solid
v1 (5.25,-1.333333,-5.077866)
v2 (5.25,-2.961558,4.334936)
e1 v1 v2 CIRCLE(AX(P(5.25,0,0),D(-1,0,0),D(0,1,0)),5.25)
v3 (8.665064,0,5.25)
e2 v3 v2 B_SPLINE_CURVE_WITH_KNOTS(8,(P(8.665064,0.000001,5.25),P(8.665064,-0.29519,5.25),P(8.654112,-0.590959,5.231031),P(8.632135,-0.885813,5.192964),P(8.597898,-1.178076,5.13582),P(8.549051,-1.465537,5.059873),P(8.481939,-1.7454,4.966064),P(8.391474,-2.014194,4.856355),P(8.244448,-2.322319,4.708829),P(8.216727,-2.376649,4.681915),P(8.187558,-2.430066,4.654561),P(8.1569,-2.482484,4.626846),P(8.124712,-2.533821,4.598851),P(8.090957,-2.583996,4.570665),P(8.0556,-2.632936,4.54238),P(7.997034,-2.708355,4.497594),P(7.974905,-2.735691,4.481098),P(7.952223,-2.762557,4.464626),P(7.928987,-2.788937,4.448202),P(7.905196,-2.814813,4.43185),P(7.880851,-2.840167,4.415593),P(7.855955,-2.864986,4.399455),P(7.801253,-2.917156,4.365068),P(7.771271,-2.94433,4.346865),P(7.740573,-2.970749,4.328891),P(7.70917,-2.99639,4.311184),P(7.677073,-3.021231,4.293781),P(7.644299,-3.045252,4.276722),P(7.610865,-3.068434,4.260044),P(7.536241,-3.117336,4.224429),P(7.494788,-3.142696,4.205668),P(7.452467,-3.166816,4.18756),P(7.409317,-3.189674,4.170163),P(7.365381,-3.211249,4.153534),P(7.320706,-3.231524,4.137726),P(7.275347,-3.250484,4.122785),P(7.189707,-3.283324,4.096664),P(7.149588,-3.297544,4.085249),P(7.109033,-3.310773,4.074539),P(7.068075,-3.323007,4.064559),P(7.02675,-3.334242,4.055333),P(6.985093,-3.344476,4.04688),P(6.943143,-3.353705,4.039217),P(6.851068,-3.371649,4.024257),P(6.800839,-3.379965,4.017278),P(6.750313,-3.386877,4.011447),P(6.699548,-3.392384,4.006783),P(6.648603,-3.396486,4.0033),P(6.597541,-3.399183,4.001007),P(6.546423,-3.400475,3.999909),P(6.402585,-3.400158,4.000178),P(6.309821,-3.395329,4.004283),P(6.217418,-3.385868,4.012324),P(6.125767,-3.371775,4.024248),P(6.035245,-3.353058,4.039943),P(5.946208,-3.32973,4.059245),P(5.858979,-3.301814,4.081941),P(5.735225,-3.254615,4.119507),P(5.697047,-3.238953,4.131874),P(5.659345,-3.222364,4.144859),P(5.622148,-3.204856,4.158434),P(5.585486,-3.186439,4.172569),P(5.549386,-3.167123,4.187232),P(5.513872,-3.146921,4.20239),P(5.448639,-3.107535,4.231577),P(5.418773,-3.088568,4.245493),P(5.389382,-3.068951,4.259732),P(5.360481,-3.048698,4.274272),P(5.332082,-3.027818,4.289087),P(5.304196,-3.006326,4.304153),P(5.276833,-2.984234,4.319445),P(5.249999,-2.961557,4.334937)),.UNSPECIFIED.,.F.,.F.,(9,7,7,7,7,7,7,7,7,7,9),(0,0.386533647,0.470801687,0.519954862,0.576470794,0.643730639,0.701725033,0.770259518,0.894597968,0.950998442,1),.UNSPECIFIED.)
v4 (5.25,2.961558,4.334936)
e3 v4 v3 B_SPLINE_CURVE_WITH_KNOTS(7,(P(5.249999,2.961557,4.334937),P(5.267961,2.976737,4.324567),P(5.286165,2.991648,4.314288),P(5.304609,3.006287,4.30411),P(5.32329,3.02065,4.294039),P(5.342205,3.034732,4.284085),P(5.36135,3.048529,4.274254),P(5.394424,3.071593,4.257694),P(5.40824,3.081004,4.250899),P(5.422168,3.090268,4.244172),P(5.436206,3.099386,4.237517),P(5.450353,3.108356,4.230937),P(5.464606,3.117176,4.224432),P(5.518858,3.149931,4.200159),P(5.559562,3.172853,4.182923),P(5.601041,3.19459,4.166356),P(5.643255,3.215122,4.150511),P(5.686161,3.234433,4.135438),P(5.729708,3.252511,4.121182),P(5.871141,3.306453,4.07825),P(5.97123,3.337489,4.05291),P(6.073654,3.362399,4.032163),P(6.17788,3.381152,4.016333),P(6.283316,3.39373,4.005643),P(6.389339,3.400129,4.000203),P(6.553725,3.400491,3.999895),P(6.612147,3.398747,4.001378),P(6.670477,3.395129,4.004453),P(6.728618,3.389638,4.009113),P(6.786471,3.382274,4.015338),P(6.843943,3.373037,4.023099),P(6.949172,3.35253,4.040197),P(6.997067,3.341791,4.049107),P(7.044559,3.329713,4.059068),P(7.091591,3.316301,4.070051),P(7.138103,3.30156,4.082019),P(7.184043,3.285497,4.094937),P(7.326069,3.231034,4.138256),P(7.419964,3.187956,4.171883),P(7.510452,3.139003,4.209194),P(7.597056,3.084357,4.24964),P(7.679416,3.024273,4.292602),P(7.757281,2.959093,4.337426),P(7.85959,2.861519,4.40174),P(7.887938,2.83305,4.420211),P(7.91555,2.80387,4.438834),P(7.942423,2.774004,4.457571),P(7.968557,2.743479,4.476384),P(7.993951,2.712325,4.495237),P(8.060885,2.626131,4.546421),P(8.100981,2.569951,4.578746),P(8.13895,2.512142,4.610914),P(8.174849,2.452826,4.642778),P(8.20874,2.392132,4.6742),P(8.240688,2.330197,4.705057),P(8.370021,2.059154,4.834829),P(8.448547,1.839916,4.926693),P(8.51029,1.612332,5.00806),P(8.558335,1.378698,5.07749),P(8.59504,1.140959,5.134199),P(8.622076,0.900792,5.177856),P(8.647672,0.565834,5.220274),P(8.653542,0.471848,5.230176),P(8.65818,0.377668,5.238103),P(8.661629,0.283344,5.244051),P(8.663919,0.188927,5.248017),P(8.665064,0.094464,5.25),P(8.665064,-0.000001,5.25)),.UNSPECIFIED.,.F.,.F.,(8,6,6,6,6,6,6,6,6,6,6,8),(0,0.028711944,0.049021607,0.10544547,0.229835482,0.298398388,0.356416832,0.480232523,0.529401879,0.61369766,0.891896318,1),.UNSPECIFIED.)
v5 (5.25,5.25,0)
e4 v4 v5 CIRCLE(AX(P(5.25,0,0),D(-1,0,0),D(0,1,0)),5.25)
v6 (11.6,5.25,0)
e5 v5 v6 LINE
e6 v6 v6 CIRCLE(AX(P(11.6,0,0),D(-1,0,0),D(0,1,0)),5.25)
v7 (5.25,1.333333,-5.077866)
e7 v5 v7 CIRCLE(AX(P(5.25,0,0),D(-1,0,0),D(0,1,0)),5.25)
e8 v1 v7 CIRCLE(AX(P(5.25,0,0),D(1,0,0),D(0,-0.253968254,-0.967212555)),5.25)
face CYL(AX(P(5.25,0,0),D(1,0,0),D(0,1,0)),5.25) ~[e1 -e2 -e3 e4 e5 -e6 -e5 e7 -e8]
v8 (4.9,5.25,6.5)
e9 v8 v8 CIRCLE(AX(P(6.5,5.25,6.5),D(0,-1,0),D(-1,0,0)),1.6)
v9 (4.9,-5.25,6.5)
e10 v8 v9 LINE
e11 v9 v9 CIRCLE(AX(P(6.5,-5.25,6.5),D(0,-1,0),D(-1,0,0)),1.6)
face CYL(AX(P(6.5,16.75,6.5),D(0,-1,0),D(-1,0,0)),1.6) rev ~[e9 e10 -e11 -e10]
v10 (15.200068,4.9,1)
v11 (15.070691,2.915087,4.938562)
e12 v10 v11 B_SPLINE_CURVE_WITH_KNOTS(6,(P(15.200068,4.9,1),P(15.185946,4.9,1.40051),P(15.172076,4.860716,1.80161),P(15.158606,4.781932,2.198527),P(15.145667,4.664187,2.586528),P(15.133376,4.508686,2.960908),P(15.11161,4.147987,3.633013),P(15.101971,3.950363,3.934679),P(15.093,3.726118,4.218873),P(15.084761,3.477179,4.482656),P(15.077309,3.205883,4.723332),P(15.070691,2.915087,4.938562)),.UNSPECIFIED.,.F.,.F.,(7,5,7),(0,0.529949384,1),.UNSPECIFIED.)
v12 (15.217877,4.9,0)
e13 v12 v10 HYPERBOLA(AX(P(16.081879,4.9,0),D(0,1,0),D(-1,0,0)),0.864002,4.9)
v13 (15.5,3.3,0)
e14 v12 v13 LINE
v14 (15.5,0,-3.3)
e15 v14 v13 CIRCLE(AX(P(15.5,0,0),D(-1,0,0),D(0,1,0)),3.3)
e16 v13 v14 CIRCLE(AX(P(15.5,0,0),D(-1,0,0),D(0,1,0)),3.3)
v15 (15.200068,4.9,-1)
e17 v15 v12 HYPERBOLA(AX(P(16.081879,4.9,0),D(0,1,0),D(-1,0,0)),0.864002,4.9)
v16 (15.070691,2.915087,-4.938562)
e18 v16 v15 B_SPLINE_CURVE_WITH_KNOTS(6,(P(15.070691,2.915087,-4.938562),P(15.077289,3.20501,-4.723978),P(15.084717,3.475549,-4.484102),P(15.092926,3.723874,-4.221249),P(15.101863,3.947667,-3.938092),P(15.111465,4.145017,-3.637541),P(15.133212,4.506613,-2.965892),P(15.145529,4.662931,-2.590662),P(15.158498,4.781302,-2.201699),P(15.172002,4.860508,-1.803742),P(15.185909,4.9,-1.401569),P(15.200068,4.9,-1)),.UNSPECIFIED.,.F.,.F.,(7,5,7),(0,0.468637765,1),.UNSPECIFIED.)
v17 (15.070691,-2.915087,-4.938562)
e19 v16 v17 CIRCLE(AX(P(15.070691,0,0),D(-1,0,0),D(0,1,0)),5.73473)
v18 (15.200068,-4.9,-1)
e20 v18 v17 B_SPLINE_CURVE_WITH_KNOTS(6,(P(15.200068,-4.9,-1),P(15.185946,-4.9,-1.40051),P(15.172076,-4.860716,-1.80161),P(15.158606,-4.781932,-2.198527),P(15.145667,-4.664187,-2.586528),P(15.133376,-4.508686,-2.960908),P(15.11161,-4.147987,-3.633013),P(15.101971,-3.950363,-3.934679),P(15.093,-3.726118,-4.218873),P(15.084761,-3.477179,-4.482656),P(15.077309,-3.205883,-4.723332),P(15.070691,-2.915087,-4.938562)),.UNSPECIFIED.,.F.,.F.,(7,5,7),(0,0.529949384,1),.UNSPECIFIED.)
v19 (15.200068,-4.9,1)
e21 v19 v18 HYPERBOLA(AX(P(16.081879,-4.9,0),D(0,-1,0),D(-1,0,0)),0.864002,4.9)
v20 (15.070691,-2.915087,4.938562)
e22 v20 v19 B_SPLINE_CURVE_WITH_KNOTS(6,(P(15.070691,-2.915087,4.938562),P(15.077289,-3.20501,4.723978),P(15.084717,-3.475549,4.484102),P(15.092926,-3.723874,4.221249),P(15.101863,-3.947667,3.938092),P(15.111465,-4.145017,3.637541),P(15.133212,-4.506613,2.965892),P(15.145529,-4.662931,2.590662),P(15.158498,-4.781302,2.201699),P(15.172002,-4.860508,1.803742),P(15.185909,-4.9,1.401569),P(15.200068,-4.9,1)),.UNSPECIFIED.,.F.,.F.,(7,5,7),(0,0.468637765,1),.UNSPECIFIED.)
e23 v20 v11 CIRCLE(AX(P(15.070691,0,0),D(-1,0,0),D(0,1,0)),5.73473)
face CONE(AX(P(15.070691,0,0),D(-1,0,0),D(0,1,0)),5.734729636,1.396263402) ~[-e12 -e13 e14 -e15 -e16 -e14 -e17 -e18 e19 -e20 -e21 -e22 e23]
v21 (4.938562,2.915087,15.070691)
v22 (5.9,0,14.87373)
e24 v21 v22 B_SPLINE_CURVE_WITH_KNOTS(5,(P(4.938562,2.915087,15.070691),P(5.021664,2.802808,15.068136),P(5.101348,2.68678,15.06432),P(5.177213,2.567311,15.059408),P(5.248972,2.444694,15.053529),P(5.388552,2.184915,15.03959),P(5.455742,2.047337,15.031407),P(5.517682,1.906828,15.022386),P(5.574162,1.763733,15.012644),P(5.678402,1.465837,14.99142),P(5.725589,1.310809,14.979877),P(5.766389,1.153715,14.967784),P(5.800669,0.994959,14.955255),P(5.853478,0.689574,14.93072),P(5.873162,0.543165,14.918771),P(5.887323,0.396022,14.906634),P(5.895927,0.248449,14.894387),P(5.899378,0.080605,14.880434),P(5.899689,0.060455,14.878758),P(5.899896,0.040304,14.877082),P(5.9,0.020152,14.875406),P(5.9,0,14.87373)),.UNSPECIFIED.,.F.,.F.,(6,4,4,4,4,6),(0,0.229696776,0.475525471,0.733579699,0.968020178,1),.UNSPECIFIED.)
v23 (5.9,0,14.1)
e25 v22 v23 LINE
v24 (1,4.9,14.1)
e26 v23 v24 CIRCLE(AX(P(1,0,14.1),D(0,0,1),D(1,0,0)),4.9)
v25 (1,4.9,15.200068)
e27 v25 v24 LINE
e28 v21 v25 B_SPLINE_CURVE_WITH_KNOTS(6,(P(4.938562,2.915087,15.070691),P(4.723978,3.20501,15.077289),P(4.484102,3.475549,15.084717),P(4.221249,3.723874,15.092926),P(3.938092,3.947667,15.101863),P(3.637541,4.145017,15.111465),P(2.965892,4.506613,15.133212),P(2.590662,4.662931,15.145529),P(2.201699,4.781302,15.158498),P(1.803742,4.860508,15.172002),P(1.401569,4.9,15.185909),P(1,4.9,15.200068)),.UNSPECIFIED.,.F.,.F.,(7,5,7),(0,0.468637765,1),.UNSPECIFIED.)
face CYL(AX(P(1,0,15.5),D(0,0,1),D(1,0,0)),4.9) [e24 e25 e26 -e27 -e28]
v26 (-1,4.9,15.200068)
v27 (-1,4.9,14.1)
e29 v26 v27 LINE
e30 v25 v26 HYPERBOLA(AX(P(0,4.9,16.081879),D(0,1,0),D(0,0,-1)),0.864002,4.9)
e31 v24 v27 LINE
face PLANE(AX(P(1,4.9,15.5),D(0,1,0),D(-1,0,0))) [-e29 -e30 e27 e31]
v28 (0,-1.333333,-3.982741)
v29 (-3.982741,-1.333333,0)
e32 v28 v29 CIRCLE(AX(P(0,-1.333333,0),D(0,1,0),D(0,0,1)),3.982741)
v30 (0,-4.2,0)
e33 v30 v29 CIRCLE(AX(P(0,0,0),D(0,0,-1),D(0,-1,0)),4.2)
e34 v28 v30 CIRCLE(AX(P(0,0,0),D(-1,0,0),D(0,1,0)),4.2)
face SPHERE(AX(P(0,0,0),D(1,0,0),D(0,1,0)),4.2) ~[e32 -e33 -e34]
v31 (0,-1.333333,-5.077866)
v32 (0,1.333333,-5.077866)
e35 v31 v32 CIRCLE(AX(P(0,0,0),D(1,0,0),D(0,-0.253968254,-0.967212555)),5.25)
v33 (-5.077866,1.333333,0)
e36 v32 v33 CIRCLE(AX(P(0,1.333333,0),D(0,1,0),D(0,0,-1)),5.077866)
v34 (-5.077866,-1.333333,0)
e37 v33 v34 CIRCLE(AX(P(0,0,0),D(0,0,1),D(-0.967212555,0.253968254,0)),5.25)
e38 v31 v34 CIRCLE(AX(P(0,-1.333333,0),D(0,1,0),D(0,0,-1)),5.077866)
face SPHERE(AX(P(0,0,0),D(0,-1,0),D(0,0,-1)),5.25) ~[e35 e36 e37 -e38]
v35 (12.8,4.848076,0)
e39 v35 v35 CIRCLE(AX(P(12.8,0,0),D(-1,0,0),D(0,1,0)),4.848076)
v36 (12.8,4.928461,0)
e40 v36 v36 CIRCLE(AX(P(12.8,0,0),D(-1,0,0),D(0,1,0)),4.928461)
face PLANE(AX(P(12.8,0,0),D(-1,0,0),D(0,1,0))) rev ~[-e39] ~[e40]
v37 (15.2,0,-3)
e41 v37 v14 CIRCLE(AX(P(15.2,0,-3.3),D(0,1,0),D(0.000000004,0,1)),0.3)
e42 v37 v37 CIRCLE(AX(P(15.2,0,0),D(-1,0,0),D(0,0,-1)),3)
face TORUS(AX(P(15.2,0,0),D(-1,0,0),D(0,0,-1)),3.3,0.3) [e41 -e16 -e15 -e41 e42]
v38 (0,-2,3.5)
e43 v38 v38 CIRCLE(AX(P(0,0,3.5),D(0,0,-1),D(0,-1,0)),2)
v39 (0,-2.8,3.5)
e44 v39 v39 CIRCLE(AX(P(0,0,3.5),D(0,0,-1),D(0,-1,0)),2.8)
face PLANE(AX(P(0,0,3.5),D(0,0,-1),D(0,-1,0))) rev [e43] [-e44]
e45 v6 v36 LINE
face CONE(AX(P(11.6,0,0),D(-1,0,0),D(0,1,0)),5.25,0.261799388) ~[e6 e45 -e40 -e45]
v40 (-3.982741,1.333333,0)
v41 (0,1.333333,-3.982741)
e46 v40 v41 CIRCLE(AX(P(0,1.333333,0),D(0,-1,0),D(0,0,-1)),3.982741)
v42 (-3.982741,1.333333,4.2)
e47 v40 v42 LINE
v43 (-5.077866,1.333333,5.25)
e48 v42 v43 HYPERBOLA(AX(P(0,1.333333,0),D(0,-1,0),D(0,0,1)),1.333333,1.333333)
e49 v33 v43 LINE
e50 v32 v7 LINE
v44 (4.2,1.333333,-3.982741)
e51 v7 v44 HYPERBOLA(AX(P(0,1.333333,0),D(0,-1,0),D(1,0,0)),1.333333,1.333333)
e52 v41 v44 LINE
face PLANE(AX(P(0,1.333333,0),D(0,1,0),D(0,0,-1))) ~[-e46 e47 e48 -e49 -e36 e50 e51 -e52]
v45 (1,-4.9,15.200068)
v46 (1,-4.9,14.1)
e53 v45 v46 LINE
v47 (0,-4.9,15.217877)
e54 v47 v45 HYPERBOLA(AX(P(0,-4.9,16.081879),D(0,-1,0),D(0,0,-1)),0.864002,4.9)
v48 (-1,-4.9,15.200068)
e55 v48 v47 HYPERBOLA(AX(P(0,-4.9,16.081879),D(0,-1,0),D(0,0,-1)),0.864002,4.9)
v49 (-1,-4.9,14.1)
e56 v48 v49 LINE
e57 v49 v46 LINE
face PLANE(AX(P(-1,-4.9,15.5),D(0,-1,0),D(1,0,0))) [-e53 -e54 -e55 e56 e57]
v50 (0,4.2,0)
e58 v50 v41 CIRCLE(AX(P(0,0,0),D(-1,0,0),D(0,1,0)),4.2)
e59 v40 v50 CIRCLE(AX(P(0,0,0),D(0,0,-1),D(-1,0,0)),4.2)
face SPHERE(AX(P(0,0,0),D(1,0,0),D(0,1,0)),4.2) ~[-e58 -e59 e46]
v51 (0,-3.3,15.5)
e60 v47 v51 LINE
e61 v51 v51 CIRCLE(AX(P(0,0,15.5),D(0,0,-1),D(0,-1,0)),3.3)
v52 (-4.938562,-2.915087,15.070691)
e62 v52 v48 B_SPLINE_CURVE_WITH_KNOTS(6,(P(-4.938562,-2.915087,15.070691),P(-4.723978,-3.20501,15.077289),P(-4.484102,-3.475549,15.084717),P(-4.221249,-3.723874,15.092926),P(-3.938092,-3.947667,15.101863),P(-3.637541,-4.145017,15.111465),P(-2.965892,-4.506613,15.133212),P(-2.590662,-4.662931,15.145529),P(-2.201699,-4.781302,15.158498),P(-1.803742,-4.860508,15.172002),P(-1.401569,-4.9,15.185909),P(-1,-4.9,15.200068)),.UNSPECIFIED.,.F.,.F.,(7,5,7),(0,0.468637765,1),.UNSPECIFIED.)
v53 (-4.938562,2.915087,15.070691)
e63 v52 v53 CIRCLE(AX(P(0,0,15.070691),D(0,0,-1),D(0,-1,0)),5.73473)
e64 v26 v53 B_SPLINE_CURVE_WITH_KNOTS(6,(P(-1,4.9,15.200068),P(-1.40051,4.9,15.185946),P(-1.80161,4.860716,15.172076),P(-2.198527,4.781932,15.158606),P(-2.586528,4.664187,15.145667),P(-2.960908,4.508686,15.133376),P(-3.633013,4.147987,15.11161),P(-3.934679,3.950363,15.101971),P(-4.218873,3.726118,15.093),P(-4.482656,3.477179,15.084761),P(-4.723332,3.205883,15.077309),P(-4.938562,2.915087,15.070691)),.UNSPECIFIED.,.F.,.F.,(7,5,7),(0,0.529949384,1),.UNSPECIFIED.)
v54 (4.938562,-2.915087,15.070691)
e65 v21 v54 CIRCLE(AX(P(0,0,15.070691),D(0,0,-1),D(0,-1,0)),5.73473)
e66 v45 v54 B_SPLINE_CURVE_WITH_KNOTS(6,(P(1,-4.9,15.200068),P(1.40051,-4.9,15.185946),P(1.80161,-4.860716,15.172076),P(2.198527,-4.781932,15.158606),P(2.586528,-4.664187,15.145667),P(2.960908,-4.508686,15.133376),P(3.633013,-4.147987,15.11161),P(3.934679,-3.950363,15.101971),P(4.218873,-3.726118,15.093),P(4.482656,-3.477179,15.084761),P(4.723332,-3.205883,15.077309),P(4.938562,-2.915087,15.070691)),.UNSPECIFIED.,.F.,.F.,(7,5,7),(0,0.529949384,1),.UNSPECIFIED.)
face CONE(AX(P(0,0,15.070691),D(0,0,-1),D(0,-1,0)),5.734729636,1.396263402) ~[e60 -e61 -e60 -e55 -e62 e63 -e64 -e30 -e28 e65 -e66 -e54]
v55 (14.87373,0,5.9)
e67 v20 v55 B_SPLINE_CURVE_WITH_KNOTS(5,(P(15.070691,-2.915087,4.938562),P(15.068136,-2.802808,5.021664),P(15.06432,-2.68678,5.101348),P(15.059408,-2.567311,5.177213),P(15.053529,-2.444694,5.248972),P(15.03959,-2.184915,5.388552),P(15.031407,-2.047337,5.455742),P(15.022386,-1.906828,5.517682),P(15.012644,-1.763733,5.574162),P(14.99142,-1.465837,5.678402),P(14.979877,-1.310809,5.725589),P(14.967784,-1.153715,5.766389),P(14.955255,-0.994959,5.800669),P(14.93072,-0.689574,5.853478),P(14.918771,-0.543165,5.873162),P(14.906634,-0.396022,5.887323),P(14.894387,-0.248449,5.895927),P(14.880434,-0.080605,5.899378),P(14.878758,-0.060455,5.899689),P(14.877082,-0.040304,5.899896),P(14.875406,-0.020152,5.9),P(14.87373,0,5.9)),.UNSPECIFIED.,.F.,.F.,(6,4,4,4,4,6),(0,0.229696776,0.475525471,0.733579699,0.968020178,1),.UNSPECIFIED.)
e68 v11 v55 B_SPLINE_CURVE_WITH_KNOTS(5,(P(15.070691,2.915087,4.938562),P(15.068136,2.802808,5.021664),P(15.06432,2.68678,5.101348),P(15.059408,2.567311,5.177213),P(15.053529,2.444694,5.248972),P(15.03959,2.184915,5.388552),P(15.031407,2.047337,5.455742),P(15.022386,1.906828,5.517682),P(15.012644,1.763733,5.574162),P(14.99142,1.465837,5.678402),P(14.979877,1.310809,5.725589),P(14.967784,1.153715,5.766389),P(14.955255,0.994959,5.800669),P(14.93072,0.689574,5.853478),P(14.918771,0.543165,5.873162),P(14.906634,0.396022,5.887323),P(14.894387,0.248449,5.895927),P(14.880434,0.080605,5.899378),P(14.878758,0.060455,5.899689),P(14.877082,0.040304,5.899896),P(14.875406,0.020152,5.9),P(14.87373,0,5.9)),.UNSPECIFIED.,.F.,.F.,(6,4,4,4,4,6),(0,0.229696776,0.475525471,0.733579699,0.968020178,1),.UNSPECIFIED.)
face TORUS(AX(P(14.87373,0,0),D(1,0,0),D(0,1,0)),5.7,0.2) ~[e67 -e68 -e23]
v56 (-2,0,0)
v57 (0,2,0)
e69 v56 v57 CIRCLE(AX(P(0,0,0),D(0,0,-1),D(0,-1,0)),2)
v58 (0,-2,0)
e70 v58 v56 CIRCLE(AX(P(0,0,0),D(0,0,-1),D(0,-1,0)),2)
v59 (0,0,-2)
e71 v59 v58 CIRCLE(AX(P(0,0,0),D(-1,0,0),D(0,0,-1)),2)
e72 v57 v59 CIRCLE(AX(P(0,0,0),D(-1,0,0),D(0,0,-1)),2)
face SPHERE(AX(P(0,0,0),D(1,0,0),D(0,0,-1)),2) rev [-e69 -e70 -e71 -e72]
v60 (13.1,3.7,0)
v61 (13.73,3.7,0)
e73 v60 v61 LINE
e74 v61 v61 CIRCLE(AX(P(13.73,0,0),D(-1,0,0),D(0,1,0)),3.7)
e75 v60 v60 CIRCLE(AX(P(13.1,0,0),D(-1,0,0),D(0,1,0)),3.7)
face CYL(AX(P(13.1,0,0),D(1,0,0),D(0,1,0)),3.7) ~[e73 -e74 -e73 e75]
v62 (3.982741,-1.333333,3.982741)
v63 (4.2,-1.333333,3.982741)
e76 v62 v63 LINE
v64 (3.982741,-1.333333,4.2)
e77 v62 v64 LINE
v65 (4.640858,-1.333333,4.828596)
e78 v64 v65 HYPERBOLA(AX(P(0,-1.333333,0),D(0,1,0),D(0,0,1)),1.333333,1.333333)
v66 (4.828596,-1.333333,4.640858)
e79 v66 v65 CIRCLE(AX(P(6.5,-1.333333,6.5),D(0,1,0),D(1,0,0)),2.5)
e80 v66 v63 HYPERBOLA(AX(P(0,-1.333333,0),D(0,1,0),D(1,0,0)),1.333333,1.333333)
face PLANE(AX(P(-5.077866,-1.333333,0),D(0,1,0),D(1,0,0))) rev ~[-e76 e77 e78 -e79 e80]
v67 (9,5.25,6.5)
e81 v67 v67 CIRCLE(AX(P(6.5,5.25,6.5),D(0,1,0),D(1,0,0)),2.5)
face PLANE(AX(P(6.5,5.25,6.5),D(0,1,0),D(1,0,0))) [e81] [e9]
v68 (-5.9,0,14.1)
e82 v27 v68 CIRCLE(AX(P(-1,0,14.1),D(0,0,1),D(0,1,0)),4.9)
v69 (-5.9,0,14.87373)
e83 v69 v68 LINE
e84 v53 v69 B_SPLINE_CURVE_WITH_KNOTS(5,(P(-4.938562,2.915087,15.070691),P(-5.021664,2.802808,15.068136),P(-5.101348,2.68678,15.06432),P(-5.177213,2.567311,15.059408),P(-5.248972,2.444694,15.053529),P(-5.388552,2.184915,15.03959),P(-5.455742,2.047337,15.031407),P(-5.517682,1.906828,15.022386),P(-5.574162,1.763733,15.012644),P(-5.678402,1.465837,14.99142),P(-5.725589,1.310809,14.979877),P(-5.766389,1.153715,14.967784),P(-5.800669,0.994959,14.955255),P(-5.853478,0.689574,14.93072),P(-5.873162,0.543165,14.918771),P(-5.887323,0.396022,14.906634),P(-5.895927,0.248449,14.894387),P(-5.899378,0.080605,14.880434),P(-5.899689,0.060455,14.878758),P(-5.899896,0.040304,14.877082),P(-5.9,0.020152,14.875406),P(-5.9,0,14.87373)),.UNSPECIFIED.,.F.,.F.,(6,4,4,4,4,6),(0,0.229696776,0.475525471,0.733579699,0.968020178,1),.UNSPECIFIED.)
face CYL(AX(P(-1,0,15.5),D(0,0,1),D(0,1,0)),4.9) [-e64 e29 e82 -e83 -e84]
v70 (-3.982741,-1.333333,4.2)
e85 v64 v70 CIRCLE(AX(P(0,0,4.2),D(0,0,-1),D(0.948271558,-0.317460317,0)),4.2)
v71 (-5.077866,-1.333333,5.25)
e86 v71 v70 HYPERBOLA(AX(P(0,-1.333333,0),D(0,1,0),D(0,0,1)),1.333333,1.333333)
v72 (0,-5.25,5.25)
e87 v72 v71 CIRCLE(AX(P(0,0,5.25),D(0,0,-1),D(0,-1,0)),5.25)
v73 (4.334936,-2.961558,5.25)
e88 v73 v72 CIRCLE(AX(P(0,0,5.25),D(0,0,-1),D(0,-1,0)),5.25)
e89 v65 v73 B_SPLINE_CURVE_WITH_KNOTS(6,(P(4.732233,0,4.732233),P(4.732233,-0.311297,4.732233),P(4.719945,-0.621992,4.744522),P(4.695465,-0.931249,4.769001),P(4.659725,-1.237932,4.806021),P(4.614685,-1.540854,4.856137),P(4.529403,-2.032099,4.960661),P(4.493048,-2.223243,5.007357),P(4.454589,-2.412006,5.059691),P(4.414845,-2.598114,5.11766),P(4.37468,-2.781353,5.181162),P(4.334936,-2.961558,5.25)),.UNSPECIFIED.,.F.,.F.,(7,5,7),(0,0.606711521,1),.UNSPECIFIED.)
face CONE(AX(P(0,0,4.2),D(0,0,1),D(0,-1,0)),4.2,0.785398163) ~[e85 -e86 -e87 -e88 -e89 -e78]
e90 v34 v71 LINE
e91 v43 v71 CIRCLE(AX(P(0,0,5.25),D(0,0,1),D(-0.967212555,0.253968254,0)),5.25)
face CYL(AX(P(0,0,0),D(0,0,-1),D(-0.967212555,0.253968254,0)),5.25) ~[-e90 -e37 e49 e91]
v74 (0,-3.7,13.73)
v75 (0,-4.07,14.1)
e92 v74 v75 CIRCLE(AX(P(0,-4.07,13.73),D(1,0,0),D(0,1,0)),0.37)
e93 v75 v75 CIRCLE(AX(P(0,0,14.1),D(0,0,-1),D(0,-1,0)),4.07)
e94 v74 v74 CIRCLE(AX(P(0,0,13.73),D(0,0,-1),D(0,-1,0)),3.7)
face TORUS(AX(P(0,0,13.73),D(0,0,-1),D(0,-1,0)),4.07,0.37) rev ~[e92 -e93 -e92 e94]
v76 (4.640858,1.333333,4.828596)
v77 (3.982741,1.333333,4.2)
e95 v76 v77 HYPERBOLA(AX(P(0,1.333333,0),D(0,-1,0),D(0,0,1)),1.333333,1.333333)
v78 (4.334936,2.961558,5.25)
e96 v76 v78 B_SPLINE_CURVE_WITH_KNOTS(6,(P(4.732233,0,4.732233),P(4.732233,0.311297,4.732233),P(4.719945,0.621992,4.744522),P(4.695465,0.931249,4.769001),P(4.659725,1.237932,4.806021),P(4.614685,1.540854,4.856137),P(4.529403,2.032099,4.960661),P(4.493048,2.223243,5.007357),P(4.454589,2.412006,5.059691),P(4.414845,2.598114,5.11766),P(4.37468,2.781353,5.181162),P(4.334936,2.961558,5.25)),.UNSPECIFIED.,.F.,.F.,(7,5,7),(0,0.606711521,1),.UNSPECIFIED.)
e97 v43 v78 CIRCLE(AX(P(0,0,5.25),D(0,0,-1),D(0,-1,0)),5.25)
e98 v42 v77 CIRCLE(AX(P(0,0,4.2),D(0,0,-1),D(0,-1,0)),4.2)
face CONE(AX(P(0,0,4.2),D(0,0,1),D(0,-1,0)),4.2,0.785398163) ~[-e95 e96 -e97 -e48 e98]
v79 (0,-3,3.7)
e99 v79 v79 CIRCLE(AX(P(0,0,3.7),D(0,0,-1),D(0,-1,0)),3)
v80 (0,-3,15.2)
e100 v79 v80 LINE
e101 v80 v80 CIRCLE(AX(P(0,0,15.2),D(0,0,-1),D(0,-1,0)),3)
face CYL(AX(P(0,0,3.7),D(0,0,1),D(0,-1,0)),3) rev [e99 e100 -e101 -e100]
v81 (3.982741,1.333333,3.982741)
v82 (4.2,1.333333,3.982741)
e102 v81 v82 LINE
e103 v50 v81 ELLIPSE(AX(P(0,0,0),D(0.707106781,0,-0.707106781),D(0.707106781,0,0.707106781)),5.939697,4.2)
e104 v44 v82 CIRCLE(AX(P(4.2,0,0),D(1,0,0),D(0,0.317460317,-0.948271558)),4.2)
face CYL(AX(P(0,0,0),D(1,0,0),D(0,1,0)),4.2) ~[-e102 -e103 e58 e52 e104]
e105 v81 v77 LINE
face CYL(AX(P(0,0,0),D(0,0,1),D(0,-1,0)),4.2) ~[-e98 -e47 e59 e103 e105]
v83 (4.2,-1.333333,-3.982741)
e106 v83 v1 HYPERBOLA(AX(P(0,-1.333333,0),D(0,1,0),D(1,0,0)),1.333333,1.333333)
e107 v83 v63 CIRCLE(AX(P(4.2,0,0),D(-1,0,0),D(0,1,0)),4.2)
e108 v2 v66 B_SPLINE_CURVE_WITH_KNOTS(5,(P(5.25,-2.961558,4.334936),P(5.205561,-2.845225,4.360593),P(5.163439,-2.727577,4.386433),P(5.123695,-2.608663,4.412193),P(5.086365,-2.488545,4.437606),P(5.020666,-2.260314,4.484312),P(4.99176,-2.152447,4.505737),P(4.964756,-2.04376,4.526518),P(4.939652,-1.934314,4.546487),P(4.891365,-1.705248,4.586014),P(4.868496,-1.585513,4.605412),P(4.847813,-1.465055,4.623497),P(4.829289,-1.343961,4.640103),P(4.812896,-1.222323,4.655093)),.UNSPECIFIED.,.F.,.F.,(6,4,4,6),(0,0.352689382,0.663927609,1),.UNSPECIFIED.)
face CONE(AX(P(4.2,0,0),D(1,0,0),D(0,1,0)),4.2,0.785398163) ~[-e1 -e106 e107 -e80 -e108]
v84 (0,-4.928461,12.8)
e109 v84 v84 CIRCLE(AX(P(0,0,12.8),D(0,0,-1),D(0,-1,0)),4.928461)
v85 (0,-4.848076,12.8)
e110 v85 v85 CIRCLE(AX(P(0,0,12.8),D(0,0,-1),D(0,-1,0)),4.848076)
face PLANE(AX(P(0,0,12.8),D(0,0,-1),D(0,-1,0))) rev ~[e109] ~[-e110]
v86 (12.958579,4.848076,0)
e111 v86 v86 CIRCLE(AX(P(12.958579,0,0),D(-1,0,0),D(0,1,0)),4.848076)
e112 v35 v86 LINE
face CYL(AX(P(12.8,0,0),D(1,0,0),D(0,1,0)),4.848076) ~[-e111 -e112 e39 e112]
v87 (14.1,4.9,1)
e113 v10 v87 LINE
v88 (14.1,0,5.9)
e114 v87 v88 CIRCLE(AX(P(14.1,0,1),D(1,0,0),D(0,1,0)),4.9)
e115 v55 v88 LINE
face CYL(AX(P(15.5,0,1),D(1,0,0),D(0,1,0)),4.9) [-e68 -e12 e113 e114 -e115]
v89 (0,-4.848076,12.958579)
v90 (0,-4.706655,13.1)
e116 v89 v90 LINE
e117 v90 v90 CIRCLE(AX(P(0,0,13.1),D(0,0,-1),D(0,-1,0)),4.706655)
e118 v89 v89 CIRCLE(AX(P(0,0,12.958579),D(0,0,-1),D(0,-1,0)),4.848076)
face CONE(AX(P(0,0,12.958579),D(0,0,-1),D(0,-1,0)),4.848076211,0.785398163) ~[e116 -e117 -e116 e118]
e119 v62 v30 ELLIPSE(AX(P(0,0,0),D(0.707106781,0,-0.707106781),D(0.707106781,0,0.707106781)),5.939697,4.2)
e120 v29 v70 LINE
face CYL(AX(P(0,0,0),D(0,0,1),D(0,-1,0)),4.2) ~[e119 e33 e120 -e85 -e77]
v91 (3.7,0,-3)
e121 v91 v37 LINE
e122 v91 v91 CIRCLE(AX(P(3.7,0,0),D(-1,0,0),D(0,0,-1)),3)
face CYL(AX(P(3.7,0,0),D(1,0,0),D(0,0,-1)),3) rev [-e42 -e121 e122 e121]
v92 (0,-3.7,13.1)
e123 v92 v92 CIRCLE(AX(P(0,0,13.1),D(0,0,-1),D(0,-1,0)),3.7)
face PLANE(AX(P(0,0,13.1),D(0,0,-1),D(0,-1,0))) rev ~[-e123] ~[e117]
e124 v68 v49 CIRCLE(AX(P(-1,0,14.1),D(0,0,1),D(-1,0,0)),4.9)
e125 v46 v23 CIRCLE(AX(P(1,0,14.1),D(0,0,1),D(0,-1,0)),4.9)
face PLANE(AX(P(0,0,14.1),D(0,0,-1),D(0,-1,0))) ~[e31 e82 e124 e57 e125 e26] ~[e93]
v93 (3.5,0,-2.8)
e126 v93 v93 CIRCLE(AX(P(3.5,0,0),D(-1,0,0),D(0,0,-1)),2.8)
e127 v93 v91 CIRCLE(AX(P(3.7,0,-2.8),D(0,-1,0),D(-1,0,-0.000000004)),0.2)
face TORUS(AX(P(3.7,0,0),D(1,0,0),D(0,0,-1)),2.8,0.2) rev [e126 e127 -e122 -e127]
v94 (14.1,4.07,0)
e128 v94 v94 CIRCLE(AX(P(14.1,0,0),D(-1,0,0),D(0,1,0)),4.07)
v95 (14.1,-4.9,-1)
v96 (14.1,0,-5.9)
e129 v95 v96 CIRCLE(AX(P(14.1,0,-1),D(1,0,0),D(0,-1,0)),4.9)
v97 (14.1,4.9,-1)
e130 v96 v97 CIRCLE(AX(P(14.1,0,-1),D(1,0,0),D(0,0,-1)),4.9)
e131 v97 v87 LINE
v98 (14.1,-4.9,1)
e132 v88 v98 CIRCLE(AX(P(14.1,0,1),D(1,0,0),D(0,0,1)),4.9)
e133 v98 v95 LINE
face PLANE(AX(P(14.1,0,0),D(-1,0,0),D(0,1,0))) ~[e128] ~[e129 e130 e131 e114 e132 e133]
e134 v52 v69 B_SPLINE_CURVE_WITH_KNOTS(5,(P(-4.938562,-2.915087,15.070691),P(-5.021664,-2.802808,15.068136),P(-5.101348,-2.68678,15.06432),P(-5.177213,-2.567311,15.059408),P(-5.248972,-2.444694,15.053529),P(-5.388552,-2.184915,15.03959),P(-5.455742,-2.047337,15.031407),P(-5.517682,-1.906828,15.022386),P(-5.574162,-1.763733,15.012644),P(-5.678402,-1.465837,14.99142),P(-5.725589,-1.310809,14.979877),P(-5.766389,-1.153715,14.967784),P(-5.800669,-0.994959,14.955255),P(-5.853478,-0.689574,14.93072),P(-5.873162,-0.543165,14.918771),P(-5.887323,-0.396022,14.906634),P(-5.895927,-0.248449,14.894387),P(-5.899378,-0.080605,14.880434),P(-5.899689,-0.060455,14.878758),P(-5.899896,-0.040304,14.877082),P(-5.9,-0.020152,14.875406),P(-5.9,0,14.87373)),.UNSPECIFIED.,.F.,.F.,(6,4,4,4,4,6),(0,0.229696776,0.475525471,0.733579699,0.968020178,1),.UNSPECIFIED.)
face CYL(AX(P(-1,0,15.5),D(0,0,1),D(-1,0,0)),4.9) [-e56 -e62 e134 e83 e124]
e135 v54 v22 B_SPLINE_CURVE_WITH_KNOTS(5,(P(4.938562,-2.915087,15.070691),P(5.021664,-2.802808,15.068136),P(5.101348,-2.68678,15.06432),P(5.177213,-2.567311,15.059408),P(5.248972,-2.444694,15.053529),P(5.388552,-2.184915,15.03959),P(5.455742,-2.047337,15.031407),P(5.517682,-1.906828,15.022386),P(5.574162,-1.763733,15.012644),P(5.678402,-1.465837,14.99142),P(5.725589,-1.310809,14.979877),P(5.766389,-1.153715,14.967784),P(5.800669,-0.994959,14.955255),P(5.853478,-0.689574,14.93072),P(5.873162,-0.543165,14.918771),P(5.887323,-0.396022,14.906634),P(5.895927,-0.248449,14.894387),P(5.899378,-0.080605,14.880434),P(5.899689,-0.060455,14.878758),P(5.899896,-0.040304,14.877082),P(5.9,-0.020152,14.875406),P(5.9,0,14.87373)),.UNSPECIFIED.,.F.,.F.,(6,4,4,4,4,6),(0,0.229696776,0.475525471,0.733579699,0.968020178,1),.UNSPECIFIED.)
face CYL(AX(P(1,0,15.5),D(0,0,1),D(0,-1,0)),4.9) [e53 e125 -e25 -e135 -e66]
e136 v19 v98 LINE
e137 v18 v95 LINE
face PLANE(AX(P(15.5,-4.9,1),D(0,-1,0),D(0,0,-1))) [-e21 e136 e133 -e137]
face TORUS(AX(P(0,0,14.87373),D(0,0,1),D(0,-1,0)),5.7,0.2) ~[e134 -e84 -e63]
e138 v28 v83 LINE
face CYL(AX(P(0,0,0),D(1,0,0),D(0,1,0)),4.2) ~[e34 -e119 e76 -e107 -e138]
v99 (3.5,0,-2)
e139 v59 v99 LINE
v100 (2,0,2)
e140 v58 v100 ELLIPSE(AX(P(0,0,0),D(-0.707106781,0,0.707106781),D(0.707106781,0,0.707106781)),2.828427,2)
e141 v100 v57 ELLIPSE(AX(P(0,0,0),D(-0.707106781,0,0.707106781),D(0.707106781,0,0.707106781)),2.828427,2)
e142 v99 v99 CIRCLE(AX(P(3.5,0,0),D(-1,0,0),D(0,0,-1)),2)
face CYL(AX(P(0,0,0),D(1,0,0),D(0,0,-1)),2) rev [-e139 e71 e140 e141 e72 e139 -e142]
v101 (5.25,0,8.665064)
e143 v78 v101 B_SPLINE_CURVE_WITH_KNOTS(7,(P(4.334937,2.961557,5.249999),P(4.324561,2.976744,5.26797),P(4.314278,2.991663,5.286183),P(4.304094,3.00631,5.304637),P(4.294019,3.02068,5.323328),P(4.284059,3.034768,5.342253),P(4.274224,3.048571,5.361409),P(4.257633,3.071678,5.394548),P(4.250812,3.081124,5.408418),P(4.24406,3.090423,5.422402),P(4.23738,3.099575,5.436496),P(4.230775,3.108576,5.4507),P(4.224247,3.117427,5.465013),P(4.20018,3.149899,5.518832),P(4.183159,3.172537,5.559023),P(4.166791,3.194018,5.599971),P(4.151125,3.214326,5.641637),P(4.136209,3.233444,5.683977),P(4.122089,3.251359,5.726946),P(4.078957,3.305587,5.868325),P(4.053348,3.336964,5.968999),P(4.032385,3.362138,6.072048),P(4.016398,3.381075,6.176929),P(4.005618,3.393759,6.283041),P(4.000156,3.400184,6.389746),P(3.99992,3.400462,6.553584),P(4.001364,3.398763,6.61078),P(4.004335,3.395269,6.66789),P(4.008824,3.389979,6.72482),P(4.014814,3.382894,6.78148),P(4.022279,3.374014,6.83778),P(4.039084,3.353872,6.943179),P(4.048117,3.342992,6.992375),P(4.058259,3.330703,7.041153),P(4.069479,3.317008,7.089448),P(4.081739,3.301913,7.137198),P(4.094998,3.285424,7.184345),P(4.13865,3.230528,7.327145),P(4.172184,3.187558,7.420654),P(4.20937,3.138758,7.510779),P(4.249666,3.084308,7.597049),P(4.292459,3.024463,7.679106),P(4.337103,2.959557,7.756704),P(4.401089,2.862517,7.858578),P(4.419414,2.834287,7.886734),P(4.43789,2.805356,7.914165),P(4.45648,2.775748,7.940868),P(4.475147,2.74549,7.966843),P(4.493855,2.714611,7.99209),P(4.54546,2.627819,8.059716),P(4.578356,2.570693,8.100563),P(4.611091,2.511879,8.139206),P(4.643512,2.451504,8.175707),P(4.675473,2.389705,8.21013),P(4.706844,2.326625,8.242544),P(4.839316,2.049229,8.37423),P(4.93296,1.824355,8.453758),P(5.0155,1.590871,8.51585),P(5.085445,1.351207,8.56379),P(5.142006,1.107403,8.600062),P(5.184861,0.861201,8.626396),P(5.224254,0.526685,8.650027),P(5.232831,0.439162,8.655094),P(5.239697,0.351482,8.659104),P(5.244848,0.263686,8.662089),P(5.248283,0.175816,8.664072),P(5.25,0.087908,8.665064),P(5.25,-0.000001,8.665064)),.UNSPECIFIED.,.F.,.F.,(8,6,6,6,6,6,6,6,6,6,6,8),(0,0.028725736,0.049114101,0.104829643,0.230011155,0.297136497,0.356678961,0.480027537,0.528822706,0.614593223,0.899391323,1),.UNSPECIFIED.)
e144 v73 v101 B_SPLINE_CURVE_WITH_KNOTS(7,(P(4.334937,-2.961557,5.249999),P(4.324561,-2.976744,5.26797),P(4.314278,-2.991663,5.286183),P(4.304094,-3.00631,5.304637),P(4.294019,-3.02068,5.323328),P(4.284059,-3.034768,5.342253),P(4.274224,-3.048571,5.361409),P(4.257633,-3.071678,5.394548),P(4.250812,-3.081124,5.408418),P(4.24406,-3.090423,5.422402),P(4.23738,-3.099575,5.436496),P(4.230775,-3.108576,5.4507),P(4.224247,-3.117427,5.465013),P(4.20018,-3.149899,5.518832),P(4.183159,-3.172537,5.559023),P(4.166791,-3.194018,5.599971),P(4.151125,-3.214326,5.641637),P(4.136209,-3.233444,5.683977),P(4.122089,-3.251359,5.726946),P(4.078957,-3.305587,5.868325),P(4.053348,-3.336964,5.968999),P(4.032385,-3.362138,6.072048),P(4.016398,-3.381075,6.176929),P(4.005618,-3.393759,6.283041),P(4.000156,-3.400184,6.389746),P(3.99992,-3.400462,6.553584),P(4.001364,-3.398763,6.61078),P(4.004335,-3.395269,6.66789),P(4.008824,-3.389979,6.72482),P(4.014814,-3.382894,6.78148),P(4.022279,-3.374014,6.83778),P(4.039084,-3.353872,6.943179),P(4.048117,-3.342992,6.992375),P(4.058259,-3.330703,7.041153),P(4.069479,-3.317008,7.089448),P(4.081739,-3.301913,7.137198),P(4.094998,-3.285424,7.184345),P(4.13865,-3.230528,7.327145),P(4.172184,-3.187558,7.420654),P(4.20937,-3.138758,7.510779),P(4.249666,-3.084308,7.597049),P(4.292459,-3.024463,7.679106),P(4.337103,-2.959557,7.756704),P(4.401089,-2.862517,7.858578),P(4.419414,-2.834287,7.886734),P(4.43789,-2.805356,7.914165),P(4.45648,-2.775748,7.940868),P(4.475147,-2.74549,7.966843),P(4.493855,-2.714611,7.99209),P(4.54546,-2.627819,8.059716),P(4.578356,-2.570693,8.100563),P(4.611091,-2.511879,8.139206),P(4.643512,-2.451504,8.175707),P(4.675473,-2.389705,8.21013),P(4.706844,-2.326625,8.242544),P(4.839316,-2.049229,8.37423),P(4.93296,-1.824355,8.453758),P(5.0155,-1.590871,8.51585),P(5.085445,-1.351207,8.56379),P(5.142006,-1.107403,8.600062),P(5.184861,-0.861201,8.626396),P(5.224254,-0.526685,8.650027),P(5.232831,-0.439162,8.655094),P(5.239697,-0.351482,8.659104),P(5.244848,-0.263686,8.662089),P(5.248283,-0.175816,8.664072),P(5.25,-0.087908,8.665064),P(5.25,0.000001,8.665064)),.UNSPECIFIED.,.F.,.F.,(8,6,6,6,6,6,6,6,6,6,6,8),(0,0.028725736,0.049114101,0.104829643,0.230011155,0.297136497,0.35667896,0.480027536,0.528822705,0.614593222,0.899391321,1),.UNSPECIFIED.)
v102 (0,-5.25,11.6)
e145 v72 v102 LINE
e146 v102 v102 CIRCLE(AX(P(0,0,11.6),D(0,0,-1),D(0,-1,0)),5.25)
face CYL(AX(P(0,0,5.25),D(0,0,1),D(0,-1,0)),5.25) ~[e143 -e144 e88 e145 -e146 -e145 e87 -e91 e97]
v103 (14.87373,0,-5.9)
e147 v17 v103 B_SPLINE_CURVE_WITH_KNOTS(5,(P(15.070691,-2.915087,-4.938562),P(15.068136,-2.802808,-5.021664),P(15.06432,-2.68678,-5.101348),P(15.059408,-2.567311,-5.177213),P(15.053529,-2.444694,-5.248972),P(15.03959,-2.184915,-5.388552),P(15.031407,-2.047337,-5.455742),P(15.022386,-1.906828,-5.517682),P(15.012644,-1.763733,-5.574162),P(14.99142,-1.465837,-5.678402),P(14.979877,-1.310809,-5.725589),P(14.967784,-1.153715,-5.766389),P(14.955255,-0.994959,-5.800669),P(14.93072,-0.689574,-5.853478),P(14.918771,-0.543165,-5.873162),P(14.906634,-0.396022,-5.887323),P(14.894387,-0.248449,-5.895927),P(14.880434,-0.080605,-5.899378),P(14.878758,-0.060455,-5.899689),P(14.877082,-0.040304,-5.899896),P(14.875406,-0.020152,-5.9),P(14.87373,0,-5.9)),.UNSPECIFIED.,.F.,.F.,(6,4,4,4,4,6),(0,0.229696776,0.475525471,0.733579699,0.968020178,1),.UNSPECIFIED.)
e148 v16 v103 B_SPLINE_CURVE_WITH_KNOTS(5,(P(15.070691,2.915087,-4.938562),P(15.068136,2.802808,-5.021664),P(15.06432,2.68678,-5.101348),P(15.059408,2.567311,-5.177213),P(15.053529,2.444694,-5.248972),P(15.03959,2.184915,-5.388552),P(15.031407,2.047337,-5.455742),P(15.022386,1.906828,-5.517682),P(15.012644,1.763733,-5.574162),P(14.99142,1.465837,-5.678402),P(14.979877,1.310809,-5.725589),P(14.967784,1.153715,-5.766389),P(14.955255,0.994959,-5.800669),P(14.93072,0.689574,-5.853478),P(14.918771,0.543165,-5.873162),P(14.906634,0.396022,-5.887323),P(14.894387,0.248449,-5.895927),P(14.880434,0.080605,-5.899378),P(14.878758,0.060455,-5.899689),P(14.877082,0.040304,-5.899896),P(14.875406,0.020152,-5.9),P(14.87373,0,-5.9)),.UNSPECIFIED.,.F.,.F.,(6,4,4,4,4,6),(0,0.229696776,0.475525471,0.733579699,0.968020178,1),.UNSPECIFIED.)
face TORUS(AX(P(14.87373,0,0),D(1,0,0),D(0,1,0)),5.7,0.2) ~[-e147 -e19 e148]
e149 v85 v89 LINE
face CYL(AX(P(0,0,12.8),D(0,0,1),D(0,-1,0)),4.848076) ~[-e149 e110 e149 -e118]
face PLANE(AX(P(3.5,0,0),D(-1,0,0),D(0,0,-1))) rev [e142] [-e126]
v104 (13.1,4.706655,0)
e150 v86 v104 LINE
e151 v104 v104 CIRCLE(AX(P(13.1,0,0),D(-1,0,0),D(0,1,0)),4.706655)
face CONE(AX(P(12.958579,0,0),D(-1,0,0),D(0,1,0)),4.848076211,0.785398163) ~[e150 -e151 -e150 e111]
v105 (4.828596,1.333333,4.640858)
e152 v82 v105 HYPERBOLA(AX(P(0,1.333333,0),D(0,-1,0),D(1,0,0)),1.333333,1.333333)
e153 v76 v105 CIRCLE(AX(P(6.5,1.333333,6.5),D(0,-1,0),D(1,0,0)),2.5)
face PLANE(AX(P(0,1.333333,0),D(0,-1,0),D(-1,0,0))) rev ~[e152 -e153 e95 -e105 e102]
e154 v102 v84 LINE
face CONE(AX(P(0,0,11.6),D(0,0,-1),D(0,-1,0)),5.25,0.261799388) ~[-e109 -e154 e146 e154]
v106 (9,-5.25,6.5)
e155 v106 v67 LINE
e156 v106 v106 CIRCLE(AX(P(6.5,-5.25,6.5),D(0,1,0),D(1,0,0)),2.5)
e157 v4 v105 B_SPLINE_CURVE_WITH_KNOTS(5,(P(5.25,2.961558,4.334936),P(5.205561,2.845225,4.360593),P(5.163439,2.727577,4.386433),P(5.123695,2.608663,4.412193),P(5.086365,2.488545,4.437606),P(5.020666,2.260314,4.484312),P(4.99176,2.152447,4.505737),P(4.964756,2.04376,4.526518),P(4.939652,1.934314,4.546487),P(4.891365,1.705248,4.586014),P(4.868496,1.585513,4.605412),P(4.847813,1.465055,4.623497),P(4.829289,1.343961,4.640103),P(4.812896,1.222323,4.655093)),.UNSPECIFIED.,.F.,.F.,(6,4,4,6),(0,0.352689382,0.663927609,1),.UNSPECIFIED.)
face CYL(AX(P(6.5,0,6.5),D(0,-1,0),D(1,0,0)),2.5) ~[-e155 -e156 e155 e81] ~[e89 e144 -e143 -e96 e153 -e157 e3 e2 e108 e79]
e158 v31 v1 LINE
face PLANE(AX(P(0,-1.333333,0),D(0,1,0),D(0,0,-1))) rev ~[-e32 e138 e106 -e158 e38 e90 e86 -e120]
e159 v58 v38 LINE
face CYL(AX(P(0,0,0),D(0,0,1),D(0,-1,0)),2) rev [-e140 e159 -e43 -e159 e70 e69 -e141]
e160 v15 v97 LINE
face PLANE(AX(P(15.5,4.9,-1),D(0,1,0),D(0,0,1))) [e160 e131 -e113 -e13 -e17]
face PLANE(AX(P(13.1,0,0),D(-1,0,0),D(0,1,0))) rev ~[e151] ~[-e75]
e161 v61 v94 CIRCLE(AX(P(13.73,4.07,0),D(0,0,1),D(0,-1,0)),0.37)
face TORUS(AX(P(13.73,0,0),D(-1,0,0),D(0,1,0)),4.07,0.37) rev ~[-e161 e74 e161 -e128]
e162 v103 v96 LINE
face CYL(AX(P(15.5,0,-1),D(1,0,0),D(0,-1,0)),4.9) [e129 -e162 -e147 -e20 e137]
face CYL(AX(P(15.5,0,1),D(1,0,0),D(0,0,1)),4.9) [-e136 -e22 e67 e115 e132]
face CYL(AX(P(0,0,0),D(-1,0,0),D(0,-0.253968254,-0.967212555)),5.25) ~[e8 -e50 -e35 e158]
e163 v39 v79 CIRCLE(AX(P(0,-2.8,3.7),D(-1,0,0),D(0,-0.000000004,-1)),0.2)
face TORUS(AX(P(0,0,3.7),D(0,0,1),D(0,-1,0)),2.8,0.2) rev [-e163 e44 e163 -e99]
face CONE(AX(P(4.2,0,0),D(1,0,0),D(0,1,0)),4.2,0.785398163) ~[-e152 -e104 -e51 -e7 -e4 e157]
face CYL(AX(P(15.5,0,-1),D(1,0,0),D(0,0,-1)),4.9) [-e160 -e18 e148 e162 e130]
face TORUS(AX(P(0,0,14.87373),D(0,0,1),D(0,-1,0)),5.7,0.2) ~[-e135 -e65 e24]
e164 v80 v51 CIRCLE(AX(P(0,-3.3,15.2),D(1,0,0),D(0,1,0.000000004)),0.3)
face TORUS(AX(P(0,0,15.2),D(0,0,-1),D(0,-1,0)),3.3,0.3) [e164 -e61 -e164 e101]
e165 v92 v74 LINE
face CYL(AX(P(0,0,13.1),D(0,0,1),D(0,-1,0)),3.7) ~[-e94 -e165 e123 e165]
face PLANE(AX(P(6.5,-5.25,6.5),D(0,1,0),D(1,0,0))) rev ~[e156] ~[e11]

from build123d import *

# Parameters (mm, degrees)
SCHNITT_LINEAR_AUSTRAGEN1_DEPTH      = 1.4
AUFSATZ_LINEAR_AUSTRAGEN1_DEPTH      = 5.25
AUFSATZ_LINEAR_AUSTRAGEN2_DEPTH      = 5.25
SCHNITT_LINEAR_AUSTRAGEN2_DEPTH      = 1.4
SKIZZE9_R                            = 2.5
AUFSATZ_LINEAR_AUSTRAGEN3_DEPTH      = 5.25
AUFSATZ_LINEAR_AUSTRAGEN3_DEPTH_BACK = 5.25
BOHRUNG1_D                           = 3.2
BOHRUNG1_DEPTH                       = 11.5
ROTATION3_ANGLE                      = 90


with BuildPart() as part:
    # Skizze1 → Rotation1 (revolve)
    with BuildSketch(Plane.XY):
        with BuildLine():
            Line((0, 4.2), (4.2, 4.2))
            Line((4.2, 4.2), (5.25, 5.25))
            Line((5.25, 5.25), (11.6, 5.25))
            Line((11.6, 5.25), (12.8, 4.928460969))
            Line((12.8, 4.928460969), (12.8, 4.848076211))
            Line((12.8, 4.848076211), (12.958578644, 4.848076211))
            Line((12.958578644, 4.848076211), (13.1, 4.706654855))
            Line((13.1, 4.706654855), (13.1, 3.7))
            Line((13.1, 3.7), (13.73, 3.7))
            ThreePointArc((13.73, 3.7), (13.991629509, 3.808370491), (14.1, 4.07))
            Line((14.1, 4.07), (14.1, 5.9))
            Line((14.1, 5.9), (14.873729924, 5.9))
            ThreePointArc((14.873729924, 5.9), (15.002287446, 5.853208889), (15.070691475, 5.734729636))
            Line((15.070691475, 5.734729636), (15.5, 3.3))
            Line((15.5, 3.3), (15.5, 0))
            Line((15.5, 0), (-4.2, 0))
            ThreePointArc((-4.2, 0), (-2.969848481, 2.969848481), (0, 4.2))
        make_face()
    revolve(axis=Axis((15.5, 0, 0), (-1, 0, 0)))

    # Skizze2 → Schnitt-Linear austragen1 (cut)
    with BuildSketch(Plane(origin=(15.5, 0, 0), x_dir=(0, 0, -1), z_dir=(1, 0, 0))):
        Polygon((-7.08, -4.087639906), (0, -8.175279812), (7.08, -4.087639906), (7.08, 4.087639906), (0, 8.175279812), (-7.08, 4.087639906), align=None)
        with BuildLine():
            Line((-1, -4.9), (1, -4.9))
            ThreePointArc((1, -4.9), (4.464823228, -3.464823228), (5.9, 0))
            ThreePointArc((5.9, 0), (4.464823228, 3.464823228), (1, 4.9))
            Line((1, 4.9), (-1, 4.9))
            ThreePointArc((-1, 4.9), (-4.464823228, 3.464823228), (-5.9, 0))
            ThreePointArc((-5.9, 0), (-4.464823228, -3.464823228), (-1, -4.9))
        make_face(mode=Mode.SUBTRACT)
    extrude(amount=-SCHNITT_LINEAR_AUSTRAGEN1_DEPTH, mode=Mode.SUBTRACT)

    # Skizze3 → Aufsatz-Linear austragen1 (add)
    with BuildSketch(Plane(origin=(0, 0, 0), x_dir=(0, 0, -1), z_dir=(1, 0, 0))):
        with BuildLine():
            Line((-5.077865912, -1.333333333), (5.077865912, -1.333333333))
            ThreePointArc((5.077865912, -1.333333333), (5.25, 0), (5.077865912, 1.333333333))
            Line((5.077865912, 1.333333333), (-5.077865912, 1.333333333))
            ThreePointArc((-5.077865912, 1.333333333), (-5.25, 0), (-5.077865912, -1.333333333))
        make_face()
    extrude(amount=AUFSATZ_LINEAR_AUSTRAGEN1_DEPTH)

    # Skizze5 → Aufsatz-Linear austragen2 (add)
    with BuildSketch(Plane.XY):
        with BuildLine():
            Line((-5.077865912, -1.333333333), (0, -1.333333333))
            Line((0, -1.333333333), (0, 1.333333333))
            Line((0, 1.333333333), (-5.077865912, 1.333333333))
            ThreePointArc((-5.077865912, 1.333333333), (-5.25, 0), (-5.077865912, -1.333333333))
        make_face()
    extrude(amount=AUFSATZ_LINEAR_AUSTRAGEN2_DEPTH)

    # Skizze6 → Rotation2 (revolve)
    with BuildSketch(Plane(origin=(0, 0, 0), x_dir=(0, 0, -1), z_dir=(1, 0, 0))):
        with BuildLine():
            Line((0, 0), (0, -4.2))
            Line((0, -4.2), (-4.2, -4.2))
            Line((-4.2, -4.2), (-5.25, -5.25))
            Line((-5.25, -5.25), (-11.6, -5.25))
            Line((-11.6, -5.25), (-12.8, -4.928460969))
            Line((-12.8, -4.928460969), (-12.8, -4.848076211))
            Line((-12.8, -4.848076211), (-12.958578644, -4.848076211))
            Line((-12.958578644, -4.848076211), (-13.1, -4.706654855))
            Line((-13.1, -4.706654855), (-13.1, -3.7))
            Line((-13.1, -3.7), (-13.73, -3.7))
            ThreePointArc((-13.73, -3.7), (-13.991629509, -3.808370491), (-14.1, -4.07))
            Line((-14.1, -4.07), (-14.1, -5.9))
            Line((-14.1, -5.9), (-14.873729924, -5.9))
            ThreePointArc((-14.873729924, -5.9), (-15.002287446, -5.853208889), (-15.070691475, -5.734729636))
            Line((-15.070691475, -5.734729636), (-15.5, -3.3))
            Line((-15.5, -3.3), (-15.5, 0))
            Line((-15.5, 0), (0, 0))
        make_face()
    revolve(axis=Axis((0, 0, 15.5), (0, 0, -1)))

    # Skizze7 → Schnitt-Linear austragen2 (cut)
    with BuildSketch(Plane.XY.offset(15.5)):
        Polygon((-7.08, -4.087639906), (0, -8.175279812), (7.08, -4.087639906), (7.08, 4.087639906), (0, 8.175279812), (-7.08, 4.087639906), align=None)
        with BuildLine():
            Line((-1, -4.9), (1, -4.9))
            ThreePointArc((1, -4.9), (4.464823228, -3.464823228), (5.9, 0))
            ThreePointArc((5.9, 0), (4.464823228, 3.464823228), (1, 4.9))
            Line((1, 4.9), (-1, 4.9))
            ThreePointArc((-1, 4.9), (-4.464823228, 3.464823228), (-5.9, 0))
            ThreePointArc((-5.9, 0), (-4.464823228, -3.464823228), (-1, -4.9))
        make_face(mode=Mode.SUBTRACT)
    extrude(amount=-SCHNITT_LINEAR_AUSTRAGEN2_DEPTH, mode=Mode.SUBTRACT)

    # Skizze9 → Aufsatz-Linear austragen3 (add, two sides)
    with BuildSketch(Plane(origin=(0, 0, 0), x_dir=(1, 0, 0), z_dir=(0, 1, 0))) as aufsatz_linear_austragen3_sk:
        with Locations((6.5, -6.5)):
            Circle(SKIZZE9_R)
    extrude(amount=AUFSATZ_LINEAR_AUSTRAGEN3_DEPTH)
    extrude(aufsatz_linear_austragen3_sk.sketch, amount=-AUFSATZ_LINEAR_AUSTRAGEN3_DEPTH_BACK)

    # Bohrung1
    with Locations(Plane(origin=(0, 5.25, 0), x_dir=(1, 0, 0), z_dir=(0, 1, 0))):
        with Locations((6.5, -6.5)):
            Hole(BOHRUNG1_D / 2, depth=BOHRUNG1_DEPTH)

    # Skizze12 → Rotation3 (revolve)
    with BuildSketch(Plane(origin=(0, 0, 0), x_dir=(0, 0, -1), z_dir=(1, 0, 0))):
        with BuildLine():
            Line((0, 1.333333333), (5.077865912, 1.333333333))
            ThreePointArc((5.077865912, 1.333333333), (5.25, 0), (5.077865912, -1.333333333))
            Line((5.077865912, -1.333333333), (0, -1.333333333))
            Line((0, -1.333333333), (0, 1.333333333))
        make_face()
    revolve(axis=Axis((0, -1.333333333, 0), (0, 1, 0)), revolution_arc=ROTATION3_ANGLE)

    # Skizze8 → Schnitt-Rotation1 (revolve, cut)
    with BuildSketch(Plane(origin=(0, 0, 0), x_dir=(0, 0, -1), z_dir=(1, 0, 0))):
        with BuildLine():
            Line((0, 0), (0, -2))
            Line((0, -2), (-3.5, -2))
            Line((-3.5, -2), (-3.5, -2.8))
            ThreePointArc((-3.5, -2.8), (-3.558578644, -2.941421356), (-3.7, -3))
            Line((-3.7, -3), (-15.2, -3))
            ThreePointArc((-15.2, -3), (-15.412132034, -3.087867966), (-15.5, -3.3))
            Line((-15.5, -3.3), (-15.5, 0))
            Line((-15.5, 0), (0, 0))
        make_face()
    revolve(axis=Axis((0, 0, 15.5), (0, 0, -1)), mode=Mode.SUBTRACT)

    # Skizze4 → Schnitt-Rotation2 (revolve, cut)
    with BuildSketch(Plane(origin=(0, 0, 0), x_dir=(1, 0, 0), z_dir=(0, 1, 0))):
        with BuildLine():
            Line((0, 2), (3.5, 2))
            Line((3.5, 2), (3.5, 2.8))
            ThreePointArc((3.5, 2.8), (3.558578644, 2.941421356), (3.7, 3))
            Line((3.7, 3), (15.2, 3))
            ThreePointArc((15.2, 3), (15.412132034, 3.087867966), (15.5, 3.3))
            Line((15.5, 3.3), (15.5, 0))
            Line((15.5, 0), (-2, 0))
            ThreePointArc((-2, 0), (-1.414213562, 1.414213562), (0, 2))
        make_face()
    revolve(axis=Axis((15.5, 0, 0), (-1, 0, 0)), mode=Mode.SUBTRACT)


solid = part.part
